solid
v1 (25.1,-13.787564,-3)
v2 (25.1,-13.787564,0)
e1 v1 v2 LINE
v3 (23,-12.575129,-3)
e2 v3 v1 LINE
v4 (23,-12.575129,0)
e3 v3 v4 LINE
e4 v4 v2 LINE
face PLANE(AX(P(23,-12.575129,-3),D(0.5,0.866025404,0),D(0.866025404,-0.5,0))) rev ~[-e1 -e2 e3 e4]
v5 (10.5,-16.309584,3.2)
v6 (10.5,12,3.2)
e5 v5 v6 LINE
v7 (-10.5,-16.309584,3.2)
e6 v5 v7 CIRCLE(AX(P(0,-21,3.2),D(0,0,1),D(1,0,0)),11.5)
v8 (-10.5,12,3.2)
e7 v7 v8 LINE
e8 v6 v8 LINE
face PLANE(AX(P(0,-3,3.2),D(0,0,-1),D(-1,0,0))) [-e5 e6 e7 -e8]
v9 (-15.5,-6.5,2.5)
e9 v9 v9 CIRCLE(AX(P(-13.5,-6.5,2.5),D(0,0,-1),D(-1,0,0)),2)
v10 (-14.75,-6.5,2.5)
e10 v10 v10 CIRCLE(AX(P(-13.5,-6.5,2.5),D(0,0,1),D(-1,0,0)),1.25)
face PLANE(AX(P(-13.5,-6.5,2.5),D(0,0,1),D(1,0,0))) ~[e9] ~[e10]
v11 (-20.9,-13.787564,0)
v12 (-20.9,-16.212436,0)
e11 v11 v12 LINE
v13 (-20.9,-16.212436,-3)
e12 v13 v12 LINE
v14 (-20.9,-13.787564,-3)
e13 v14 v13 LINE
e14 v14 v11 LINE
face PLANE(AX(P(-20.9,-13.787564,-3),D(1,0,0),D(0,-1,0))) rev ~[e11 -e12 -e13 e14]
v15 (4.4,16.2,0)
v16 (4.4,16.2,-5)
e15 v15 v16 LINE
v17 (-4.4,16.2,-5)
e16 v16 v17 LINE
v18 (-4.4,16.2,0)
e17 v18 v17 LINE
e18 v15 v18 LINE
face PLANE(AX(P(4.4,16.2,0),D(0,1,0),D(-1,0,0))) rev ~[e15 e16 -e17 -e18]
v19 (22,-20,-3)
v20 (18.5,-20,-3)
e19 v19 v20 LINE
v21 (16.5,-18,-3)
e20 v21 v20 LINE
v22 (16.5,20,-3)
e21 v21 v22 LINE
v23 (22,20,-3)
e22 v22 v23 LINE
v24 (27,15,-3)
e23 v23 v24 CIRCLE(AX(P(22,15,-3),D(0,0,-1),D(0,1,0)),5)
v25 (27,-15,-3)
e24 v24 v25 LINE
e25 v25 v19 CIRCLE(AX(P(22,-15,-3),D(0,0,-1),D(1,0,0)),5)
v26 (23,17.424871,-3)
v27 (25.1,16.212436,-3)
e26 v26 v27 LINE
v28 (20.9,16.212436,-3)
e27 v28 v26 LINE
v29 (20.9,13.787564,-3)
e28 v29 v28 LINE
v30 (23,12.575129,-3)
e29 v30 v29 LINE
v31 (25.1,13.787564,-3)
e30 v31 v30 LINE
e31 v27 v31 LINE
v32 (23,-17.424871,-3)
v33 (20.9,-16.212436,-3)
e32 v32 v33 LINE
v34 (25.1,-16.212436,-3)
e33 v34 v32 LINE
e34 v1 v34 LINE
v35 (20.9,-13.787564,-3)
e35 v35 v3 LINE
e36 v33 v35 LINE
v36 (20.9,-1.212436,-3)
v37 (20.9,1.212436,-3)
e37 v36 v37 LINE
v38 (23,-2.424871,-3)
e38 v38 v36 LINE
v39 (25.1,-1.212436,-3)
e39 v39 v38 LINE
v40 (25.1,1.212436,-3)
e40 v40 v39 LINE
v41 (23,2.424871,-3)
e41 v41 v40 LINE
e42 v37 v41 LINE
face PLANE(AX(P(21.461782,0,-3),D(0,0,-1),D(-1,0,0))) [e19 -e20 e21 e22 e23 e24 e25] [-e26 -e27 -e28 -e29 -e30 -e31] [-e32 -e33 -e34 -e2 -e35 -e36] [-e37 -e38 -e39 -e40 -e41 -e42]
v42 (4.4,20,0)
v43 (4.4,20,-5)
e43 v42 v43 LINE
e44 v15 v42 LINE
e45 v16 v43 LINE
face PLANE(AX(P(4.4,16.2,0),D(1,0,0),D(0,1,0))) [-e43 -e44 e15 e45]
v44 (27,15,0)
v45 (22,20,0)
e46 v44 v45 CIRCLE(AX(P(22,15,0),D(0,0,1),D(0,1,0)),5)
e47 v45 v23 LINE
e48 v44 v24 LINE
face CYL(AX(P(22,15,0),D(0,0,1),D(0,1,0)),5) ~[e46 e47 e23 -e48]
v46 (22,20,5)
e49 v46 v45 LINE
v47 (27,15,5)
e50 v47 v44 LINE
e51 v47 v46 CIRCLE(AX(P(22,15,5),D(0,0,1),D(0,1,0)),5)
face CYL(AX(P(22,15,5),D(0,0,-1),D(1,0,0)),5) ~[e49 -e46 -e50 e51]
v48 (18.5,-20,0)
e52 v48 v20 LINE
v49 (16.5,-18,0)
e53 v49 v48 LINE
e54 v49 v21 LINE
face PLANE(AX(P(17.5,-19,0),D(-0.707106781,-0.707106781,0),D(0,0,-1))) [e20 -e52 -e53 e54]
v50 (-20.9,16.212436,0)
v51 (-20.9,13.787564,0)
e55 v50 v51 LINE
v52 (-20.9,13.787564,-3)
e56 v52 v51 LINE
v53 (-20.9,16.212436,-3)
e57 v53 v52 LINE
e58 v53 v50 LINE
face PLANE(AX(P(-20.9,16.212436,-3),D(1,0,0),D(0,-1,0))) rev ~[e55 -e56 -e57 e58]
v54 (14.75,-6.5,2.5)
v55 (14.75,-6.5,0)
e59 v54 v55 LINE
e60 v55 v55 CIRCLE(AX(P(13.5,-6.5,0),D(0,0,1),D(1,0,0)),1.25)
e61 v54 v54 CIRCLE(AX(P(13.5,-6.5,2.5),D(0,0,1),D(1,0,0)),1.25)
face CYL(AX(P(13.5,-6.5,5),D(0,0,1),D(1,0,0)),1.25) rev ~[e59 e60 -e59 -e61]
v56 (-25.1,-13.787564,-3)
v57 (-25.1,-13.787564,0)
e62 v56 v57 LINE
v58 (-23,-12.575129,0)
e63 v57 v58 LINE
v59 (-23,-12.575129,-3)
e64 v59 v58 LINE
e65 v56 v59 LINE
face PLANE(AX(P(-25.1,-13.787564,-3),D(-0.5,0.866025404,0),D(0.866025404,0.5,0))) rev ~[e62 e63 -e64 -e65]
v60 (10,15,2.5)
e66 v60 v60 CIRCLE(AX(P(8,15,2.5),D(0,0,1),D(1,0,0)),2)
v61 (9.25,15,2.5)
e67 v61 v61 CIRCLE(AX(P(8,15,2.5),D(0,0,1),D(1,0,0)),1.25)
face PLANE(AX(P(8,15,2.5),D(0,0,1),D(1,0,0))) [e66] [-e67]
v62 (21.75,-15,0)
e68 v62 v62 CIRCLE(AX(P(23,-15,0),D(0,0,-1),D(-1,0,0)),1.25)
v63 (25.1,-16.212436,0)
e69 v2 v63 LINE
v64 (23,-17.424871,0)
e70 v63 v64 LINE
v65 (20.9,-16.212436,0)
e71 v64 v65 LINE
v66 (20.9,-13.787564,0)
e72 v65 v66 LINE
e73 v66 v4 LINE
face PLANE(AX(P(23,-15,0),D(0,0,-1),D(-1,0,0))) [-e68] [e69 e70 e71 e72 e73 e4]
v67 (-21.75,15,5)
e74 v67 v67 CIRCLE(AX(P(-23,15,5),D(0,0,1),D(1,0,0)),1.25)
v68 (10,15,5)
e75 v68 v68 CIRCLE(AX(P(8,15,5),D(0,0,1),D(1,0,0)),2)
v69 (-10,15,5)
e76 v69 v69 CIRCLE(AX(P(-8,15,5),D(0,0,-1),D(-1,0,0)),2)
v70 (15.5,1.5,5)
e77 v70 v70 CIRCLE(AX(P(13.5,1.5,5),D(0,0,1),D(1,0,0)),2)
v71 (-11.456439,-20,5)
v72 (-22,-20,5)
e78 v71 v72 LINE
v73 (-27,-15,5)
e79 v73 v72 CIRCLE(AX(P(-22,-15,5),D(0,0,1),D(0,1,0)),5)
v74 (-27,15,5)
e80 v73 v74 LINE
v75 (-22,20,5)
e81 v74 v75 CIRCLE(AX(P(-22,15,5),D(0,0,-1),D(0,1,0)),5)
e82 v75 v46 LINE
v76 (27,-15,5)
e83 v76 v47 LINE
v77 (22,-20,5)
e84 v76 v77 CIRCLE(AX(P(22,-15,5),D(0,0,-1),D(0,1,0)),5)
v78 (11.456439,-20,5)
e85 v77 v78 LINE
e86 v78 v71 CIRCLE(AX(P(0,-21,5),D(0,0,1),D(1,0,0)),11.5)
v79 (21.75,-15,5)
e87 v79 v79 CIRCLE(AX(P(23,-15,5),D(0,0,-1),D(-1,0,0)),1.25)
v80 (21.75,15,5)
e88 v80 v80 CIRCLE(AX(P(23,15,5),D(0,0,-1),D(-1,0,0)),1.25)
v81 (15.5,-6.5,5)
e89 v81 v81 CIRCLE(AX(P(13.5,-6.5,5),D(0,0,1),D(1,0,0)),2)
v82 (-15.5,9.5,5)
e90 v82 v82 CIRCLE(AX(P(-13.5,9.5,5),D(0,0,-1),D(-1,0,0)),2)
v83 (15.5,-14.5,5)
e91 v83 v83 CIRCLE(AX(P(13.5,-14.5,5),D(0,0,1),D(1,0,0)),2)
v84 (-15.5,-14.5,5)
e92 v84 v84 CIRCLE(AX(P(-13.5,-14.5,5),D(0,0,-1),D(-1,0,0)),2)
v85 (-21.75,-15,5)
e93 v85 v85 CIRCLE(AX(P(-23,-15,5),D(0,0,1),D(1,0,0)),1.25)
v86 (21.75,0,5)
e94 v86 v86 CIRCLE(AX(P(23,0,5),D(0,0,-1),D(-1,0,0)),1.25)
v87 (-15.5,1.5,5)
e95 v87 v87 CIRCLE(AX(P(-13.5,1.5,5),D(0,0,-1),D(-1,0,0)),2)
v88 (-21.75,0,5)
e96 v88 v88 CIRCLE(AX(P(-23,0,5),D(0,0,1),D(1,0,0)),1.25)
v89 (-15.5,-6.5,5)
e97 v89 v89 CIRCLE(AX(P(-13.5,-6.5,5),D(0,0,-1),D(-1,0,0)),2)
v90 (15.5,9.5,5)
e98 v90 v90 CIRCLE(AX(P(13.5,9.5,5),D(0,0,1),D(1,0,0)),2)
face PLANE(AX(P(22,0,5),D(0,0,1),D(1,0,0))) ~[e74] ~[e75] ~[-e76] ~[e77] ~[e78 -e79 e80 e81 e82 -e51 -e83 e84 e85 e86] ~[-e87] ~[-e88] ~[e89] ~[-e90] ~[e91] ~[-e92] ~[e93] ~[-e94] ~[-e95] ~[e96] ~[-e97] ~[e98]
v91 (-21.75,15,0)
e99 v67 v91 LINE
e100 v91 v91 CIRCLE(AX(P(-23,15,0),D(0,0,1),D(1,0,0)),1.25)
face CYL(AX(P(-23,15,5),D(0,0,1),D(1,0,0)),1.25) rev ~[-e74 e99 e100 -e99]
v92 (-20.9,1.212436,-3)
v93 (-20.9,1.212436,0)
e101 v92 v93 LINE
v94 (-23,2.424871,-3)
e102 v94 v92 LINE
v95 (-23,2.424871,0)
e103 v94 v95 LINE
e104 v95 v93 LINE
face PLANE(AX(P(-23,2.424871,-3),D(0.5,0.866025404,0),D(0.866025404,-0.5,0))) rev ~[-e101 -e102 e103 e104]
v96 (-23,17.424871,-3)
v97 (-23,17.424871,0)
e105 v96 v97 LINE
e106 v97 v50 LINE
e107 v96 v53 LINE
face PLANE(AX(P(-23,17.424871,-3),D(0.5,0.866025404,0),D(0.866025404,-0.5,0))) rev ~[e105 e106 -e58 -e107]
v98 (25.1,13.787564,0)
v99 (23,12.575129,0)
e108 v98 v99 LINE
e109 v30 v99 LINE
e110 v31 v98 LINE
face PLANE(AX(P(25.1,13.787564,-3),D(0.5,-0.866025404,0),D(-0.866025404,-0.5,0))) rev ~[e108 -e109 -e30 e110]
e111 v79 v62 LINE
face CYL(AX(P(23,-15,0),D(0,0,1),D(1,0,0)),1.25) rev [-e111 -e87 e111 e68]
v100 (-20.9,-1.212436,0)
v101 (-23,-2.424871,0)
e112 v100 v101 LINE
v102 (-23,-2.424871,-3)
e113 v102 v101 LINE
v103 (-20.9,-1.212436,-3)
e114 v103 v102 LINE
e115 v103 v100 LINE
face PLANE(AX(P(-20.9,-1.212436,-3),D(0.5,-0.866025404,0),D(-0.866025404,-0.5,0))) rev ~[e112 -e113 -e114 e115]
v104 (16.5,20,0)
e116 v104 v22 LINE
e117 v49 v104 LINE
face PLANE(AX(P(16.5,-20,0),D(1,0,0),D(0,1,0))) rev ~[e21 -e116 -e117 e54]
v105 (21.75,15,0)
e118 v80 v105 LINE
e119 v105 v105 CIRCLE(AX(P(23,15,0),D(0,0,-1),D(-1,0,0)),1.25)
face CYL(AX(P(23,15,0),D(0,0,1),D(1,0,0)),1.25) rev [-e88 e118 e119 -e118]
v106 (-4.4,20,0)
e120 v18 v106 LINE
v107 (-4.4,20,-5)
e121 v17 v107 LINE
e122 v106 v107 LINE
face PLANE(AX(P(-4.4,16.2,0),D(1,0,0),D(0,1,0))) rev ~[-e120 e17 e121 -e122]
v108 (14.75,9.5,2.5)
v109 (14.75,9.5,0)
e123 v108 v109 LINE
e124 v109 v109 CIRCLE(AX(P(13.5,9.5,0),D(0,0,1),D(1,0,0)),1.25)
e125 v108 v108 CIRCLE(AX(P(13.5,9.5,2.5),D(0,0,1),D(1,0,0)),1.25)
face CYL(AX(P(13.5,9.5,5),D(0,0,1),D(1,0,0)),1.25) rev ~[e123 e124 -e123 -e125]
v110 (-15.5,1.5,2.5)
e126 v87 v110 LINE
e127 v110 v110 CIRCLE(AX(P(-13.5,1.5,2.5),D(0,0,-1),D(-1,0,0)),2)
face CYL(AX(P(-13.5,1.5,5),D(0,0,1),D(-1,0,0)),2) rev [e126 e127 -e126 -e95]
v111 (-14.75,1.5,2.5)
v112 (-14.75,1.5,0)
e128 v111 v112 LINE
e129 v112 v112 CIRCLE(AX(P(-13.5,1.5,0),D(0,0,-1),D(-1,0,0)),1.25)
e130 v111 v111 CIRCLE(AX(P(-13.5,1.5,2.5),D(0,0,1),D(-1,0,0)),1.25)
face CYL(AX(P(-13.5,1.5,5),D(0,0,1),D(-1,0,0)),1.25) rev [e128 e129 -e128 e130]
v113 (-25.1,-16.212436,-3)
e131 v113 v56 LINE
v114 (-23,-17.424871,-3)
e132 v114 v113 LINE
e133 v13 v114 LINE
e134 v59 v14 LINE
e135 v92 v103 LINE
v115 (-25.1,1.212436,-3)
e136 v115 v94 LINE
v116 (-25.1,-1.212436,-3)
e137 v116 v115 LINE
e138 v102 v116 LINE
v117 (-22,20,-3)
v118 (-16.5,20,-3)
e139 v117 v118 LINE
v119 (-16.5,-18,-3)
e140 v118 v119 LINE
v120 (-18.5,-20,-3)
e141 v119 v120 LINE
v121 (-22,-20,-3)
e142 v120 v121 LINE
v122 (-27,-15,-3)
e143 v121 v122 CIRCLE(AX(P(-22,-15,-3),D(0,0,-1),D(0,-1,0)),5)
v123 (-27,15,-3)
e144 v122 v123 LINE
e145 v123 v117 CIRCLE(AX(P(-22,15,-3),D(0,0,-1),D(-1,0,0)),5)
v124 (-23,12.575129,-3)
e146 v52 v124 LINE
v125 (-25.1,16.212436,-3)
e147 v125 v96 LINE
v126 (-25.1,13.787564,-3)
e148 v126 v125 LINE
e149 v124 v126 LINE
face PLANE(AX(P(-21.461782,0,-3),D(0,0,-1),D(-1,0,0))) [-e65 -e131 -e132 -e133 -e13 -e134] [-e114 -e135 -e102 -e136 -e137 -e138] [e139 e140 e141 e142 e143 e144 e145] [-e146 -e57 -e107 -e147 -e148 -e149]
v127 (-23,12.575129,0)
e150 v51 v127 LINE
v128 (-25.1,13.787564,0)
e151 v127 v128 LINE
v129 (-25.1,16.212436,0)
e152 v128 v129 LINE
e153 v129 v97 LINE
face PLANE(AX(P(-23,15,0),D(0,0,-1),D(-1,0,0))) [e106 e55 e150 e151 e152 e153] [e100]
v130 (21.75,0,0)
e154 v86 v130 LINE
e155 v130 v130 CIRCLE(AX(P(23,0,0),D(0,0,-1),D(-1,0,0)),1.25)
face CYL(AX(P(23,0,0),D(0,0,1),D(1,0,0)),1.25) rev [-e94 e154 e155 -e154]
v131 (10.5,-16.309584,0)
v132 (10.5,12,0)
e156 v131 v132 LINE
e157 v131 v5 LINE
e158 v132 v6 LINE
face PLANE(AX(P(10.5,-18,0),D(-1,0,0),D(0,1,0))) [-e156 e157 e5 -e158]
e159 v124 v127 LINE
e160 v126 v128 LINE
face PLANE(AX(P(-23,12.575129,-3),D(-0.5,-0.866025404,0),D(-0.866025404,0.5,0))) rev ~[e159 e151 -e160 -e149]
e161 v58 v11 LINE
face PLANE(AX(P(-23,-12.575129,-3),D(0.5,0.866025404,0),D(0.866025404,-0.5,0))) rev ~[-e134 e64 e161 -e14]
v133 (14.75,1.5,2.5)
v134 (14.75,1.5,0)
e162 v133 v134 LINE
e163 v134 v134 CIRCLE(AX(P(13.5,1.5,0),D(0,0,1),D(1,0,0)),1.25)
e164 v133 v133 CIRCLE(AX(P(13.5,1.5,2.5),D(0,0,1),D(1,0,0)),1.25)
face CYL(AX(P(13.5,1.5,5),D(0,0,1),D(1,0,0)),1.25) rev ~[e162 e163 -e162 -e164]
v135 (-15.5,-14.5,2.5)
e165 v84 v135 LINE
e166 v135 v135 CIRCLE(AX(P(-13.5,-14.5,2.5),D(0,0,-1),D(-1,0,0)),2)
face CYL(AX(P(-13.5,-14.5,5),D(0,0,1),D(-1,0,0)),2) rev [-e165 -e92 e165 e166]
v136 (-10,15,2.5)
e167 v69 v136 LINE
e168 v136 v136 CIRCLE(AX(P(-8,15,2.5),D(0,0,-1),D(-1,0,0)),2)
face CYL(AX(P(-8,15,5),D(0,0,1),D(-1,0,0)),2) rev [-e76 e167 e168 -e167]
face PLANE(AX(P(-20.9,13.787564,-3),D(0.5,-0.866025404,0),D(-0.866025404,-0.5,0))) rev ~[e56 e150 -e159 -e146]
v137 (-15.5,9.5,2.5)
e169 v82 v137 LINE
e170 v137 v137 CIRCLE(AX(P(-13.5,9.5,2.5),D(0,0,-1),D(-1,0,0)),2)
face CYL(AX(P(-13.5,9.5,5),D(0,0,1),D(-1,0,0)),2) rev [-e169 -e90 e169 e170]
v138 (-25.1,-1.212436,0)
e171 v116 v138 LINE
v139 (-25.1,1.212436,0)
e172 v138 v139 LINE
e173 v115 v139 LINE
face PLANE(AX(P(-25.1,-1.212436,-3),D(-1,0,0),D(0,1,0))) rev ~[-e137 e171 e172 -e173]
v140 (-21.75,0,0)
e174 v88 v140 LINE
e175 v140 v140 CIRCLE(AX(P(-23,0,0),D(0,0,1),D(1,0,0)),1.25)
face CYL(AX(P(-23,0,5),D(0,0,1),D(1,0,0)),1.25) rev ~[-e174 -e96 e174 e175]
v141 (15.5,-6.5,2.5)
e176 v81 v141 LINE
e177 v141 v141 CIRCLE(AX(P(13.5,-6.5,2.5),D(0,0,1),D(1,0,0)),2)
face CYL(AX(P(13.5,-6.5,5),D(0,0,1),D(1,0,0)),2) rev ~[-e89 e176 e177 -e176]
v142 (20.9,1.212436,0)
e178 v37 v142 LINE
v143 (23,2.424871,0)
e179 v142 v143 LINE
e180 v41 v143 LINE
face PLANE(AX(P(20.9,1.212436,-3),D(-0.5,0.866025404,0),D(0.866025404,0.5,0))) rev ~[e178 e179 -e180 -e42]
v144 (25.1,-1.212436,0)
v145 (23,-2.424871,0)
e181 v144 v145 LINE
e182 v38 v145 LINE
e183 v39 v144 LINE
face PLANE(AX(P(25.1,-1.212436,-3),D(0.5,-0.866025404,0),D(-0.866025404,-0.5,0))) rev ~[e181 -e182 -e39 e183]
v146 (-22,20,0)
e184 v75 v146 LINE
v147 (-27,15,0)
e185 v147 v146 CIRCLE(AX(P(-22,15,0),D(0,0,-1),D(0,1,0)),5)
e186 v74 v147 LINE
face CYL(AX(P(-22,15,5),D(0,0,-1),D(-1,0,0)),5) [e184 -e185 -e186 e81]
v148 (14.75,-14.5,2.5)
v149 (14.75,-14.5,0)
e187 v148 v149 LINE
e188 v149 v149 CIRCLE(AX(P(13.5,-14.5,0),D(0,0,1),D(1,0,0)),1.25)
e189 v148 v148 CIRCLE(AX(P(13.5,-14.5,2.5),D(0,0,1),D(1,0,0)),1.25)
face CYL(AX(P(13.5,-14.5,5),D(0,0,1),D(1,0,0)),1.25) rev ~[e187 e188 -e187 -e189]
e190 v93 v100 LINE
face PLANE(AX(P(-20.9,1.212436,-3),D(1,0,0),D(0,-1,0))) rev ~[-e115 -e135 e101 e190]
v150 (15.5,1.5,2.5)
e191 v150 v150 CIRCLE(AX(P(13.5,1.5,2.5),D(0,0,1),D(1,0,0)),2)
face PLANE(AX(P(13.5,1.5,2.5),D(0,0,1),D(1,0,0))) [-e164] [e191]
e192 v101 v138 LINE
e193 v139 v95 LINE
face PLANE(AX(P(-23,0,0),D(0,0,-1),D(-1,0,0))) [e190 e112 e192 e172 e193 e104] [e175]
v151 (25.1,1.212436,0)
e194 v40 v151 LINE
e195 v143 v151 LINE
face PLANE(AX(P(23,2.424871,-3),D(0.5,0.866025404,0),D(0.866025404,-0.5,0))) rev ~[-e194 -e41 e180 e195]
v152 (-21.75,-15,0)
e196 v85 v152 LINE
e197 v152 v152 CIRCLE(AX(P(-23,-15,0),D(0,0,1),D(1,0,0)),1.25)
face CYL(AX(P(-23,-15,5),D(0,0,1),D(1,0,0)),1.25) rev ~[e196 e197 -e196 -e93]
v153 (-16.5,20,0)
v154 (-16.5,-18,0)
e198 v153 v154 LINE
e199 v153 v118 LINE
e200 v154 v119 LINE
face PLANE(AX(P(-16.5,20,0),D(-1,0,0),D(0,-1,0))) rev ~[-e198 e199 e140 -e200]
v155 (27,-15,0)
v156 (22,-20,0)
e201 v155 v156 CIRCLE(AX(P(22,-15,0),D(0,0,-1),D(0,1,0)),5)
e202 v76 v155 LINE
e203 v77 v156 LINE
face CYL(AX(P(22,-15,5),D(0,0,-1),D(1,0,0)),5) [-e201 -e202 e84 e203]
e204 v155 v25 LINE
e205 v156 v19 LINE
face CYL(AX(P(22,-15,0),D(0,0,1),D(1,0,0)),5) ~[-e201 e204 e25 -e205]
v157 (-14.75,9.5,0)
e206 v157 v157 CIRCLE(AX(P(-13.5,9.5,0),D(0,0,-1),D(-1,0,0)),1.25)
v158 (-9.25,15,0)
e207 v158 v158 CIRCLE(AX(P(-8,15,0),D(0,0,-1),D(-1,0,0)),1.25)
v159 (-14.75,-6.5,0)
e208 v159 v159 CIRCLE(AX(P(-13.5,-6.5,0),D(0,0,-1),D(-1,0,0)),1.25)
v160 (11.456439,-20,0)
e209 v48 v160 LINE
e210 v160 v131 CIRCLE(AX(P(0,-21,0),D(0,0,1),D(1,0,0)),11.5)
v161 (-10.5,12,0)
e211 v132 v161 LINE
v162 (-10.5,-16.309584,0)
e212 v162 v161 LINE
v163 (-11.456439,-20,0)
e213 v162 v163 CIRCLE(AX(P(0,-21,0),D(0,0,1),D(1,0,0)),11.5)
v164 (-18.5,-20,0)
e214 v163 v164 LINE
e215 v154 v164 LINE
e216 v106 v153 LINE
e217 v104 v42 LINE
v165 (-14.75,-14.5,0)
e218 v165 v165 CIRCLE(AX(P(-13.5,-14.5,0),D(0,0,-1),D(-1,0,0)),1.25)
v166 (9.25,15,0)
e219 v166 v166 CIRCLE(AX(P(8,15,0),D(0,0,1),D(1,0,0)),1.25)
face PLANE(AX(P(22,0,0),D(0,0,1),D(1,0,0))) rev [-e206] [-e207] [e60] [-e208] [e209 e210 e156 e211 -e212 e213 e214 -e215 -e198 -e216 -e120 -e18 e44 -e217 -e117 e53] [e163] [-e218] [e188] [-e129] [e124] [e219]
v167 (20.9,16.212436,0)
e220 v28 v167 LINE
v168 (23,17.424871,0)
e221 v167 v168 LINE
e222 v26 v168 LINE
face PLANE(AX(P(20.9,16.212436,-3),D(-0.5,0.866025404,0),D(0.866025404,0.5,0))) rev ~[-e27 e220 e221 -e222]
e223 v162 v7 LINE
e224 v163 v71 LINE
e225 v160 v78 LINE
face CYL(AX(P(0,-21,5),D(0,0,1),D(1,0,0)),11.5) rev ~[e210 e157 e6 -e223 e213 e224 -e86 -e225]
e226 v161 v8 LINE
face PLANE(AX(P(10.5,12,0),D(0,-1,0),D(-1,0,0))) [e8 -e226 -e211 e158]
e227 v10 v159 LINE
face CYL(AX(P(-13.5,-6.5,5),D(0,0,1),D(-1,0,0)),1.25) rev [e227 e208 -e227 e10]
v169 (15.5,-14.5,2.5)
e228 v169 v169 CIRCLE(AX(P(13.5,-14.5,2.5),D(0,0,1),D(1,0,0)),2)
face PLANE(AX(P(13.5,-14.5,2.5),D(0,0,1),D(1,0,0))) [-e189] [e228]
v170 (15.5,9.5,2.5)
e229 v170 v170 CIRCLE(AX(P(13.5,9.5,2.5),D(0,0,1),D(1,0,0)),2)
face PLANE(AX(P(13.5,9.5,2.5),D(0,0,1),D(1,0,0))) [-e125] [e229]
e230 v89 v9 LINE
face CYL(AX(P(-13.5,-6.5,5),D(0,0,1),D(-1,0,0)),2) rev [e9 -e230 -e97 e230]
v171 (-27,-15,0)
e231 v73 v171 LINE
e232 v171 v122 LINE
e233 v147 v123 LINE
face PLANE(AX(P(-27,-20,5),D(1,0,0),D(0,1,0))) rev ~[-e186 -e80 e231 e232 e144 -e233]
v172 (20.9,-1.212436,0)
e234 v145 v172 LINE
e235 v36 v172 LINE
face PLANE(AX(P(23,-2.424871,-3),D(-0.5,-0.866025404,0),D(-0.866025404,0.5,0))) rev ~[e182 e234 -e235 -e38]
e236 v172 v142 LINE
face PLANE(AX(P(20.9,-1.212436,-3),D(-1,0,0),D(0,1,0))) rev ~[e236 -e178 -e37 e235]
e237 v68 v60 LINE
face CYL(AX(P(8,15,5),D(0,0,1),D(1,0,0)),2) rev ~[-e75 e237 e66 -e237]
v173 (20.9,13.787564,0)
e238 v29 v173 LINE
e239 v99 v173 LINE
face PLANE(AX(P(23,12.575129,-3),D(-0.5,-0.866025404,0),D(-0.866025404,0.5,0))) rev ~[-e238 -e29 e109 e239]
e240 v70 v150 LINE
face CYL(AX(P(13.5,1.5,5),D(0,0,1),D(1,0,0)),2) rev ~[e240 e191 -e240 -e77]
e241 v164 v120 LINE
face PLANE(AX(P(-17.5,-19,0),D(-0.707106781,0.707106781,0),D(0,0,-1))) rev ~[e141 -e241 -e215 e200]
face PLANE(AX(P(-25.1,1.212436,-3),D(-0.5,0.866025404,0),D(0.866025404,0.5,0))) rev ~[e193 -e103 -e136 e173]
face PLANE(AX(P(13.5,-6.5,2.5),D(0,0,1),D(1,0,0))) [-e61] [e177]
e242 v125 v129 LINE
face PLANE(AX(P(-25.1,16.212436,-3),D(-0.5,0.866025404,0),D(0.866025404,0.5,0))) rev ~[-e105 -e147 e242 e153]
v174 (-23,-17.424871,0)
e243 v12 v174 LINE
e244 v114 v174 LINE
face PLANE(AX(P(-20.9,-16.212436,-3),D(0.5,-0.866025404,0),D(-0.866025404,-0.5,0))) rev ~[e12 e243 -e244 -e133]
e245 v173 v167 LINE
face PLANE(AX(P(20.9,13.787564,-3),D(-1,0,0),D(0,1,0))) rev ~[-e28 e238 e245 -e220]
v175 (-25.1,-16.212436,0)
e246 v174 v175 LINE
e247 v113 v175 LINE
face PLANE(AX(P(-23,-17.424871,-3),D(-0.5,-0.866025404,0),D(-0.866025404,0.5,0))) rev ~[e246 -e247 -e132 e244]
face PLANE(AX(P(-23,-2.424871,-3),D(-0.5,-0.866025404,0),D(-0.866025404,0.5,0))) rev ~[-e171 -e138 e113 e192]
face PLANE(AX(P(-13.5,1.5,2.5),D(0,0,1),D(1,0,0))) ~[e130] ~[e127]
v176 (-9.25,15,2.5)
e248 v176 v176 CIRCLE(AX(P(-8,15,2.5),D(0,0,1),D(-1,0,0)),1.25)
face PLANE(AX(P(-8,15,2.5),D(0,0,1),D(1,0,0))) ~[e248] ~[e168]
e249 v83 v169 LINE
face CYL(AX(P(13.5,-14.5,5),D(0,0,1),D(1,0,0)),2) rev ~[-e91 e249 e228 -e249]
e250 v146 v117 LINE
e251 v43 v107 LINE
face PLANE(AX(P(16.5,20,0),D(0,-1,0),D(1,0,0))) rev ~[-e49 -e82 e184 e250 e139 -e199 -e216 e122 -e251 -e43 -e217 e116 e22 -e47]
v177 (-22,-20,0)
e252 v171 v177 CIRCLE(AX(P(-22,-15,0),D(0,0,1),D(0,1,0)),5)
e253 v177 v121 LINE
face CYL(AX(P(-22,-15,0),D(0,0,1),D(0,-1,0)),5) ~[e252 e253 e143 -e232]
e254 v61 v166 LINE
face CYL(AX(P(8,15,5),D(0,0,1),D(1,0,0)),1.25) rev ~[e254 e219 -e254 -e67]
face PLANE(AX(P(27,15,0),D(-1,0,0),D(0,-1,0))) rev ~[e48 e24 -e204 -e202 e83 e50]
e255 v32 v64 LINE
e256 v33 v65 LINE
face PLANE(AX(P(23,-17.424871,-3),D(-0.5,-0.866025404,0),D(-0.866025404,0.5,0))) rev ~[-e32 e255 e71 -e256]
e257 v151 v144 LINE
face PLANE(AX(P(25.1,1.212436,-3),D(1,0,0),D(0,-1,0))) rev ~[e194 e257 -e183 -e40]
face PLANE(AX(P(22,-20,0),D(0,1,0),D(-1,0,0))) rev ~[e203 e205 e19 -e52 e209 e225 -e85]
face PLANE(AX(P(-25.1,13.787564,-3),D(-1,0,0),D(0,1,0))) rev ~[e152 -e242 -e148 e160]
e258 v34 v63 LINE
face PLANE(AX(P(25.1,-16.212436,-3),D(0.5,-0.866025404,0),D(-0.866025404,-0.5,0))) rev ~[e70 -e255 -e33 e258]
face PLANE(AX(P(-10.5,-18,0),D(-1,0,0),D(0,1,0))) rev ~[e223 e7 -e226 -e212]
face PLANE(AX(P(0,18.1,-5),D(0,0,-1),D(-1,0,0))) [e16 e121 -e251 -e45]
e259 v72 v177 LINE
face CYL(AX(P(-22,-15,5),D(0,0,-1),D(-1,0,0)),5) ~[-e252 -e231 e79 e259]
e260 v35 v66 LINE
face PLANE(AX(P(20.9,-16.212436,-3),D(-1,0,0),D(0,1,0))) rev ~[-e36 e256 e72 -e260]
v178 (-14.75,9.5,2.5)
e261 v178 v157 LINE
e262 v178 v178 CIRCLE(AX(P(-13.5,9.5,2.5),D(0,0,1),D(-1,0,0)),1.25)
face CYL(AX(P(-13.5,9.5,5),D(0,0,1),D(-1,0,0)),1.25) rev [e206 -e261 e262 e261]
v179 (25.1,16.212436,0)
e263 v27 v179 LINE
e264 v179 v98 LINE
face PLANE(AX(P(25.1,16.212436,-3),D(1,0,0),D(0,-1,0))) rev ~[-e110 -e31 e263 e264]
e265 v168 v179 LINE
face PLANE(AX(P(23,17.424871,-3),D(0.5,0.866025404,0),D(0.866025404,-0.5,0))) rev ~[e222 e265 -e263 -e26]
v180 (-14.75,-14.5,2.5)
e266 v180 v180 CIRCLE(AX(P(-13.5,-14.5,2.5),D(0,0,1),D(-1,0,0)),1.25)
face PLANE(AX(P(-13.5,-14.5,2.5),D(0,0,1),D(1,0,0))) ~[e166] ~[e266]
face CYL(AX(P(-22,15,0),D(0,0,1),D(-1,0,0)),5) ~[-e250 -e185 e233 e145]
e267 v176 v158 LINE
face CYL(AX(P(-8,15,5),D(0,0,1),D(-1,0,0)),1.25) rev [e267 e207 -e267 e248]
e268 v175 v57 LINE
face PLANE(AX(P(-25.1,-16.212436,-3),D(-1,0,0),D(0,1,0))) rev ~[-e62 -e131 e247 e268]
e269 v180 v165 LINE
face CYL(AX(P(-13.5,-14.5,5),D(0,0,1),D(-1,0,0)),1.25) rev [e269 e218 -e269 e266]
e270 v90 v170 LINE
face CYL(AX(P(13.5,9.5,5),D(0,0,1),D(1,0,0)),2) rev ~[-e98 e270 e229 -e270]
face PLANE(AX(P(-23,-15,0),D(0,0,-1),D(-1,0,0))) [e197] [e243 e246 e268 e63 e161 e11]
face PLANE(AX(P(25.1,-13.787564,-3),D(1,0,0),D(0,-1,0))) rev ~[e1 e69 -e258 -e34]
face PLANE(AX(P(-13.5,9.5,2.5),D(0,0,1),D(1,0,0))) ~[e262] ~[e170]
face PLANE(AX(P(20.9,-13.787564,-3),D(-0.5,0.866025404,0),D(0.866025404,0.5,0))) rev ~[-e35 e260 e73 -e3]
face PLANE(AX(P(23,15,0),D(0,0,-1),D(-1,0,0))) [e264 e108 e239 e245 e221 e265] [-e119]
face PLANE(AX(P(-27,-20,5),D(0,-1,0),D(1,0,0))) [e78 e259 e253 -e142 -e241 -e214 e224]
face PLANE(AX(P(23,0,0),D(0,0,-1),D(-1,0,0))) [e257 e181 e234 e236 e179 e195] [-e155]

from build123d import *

# Parameters (mm, degrees)
SZKIC1_W                    = 34
SZKIC1_H                    = 40
DODANIE_WYCI_GNI_CIE1_DEPTH = 5
SZKIC2_R                    = 1.25
WYTNIJ_WYCI_GNI_CIE1_DEPTH  = 5
SZKIC3_R                    = 11.5
WYTNIJ_WYCI_GNI_CIE2_DEPTH  = 5
SZKIC4_R                    = 2
WYTNIJ_WYCI_GNI_CIE3_DEPTH  = 2.5
SZKIC5_W                    = 21
SZKIC5_H                    = 30
WYTNIJ_WYCI_GNI_CIE4_DEPTH  = 3.2
SZKIC6_W                    = 10
SZKIC6_H                    = 40
SZKIC6_R                    = 1.25
DODANIE_WYCI_GNI_CIE2_DEPTH = 5
ZAOKR_GLENIE1_R             = 5
ZAOKR_GLENIE1_OF_LUSTRO2_R  = 5
SZKIC7_W                    = 8.8
SZKIC7_H                    = 3.8
DODANIE_WYCI_GNI_CIE3_DEPTH = 5
SZKIC8_R                    = 1.25
DODANIE_WYCI_GNI_CIE4_DEPTH = 3
WYTNIJ_WYCI_GNI_CIE5_DEPTH  = 3
SZYK_LINIOWY1_COUNT         = 2
SZYK_LINIOWY1_PITCH         = 46
SZYK_LINIOWY1_COUNT_DIR2    = 3
SZYK_LINIOWY1_PITCH_DIR2    = 15
SFAZOWANIE1_SIZE            = 2


with BuildPart() as part:
    # Szkic1 → Dodanie-wyciągnięcie1 (new body)
    with BuildSketch(Plane.XY):
        Rectangle(SZKIC1_W, SZKIC1_H)
    extrude(amount=DODANIE_WYCI_GNI_CIE1_DEPTH)

    # Szkic2 → Wytnij-wyciągnięcie1 (cut)
    with BuildSketch(Plane.XY.offset(5)):
        with Locations((8, 15)):
            Circle(SZKIC2_R)
        with Locations((13.5, 9.5)):
            Circle(SZKIC2_R)
        with Locations((13.5, 1.5)):
            Circle(SZKIC2_R)
        with Locations((13.5, -6.5)):
            Circle(SZKIC2_R)
        with Locations((13.5, -14.5)):
            Circle(SZKIC2_R)
    wytnij_wyci_gni_cie1 = extrude(amount=-WYTNIJ_WYCI_GNI_CIE1_DEPTH, mode=Mode.SUBTRACT)

    # Szkic3 → Wytnij-wyciągnięcie2 (cut)
    with BuildSketch(Plane.XY.offset(5)):
        with Locations((0, -21)):
            Circle(SZKIC3_R)
    extrude(amount=-WYTNIJ_WYCI_GNI_CIE2_DEPTH, mode=Mode.SUBTRACT)

    # Szkic4 → Wytnij-wyciągnięcie3 (cut)
    with BuildSketch(Plane.XY.offset(5)):
        with Locations((8, 15)):
            Circle(SZKIC4_R)
        with Locations((13.5, 9.5)):
            Circle(SZKIC4_R)
        with Locations((13.5, 1.5)):
            Circle(SZKIC4_R)
        with Locations((13.5, -6.5)):
            Circle(SZKIC4_R)
        with Locations((13.5, -14.5)):
            Circle(SZKIC4_R)
    wytnij_wyci_gni_cie3 = extrude(amount=-WYTNIJ_WYCI_GNI_CIE3_DEPTH, mode=Mode.SUBTRACT)

    # Lustro1: Wytnij-wyciągnięcie1, Wytnij-wyciągnięcie3 across plane
    add(wytnij_wyci_gni_cie1.mirror(Plane(origin=(0, 0, 0), x_dir=(0, 0, 1), z_dir=(1, 0, 0))), mode=Mode.SUBTRACT)
    add(wytnij_wyci_gni_cie3.mirror(Plane(origin=(0, 0, 0), x_dir=(0, 0, 1), z_dir=(1, 0, 0))), mode=Mode.SUBTRACT)

    # Szkic5 → Wytnij-wyciągnięcie4 (cut)
    with BuildSketch(Plane(origin=(0, 0, 0), x_dir=(-1, 0, 0), z_dir=(0, 0, -1))):
        with Locations((0, -3)):
            Rectangle(SZKIC5_W, SZKIC5_H)
    extrude(amount=-WYTNIJ_WYCI_GNI_CIE4_DEPTH, mode=Mode.SUBTRACT)

    # Szkic6 → Dodanie-wyciągnięcie2 (add)
    with BuildSketch(Plane.XY.offset(5)):
        with Locations((-22, 0)):
            Rectangle(SZKIC6_W, SZKIC6_H)
        with Locations((-23, -15)):
            Circle(SZKIC6_R, mode=Mode.SUBTRACT)
        with Locations((-23, 0)):
            Circle(SZKIC6_R, mode=Mode.SUBTRACT)
        with Locations((-23, 15)):
            Circle(SZKIC6_R, mode=Mode.SUBTRACT)
    dodanie_wyci_gni_cie2 = extrude(amount=-DODANIE_WYCI_GNI_CIE2_DEPTH)

    # Zaokrąglenie1
    zaokr_glenie1_edges = [part.edges().sort_by_distance(p)[0] for p in [
        (-27, -20, 2.5),
        (-27, 20, 2.5),
    ]]
    fillet(zaokr_glenie1_edges, radius=ZAOKR_GLENIE1_R)

    # Lustro2: Dodanie-wyciągnięcie2 across plane
    add(dodanie_wyci_gni_cie2.mirror(Plane(origin=(0, 0, 0), x_dir=(0, 0, 1), z_dir=(1, 0, 0))))

    # Zaokrąglenie1 of Lustro2
    zaokr_glenie1_of_lustro2_edges = [part.edges().sort_by_distance(p)[0] for p in [
        (27, -20, 2.5),
        (27, 20, 2.5),
    ]]
    fillet(zaokr_glenie1_of_lustro2_edges, radius=ZAOKR_GLENIE1_OF_LUSTRO2_R)

    # Szkic7 → Dodanie-wyciągnięcie3 (add)
    with BuildSketch(Plane(origin=(0, 0, 0), x_dir=(-1, 0, 0), z_dir=(0, 0, -1))):
        with Locations((0, 18.1)):
            Rectangle(SZKIC7_W, SZKIC7_H)
    extrude(amount=DODANIE_WYCI_GNI_CIE3_DEPTH)

    # Szkic8 → Dodanie-wyciągnięcie4 (add)
    # profile 1 of 2: a face of its own
    with BuildSketch(Plane(origin=(0, 0, 0), x_dir=(-1, 0, 0), z_dir=(0, 0, -1))):
        with BuildLine():
            Line((-16.5, -20), (-16.5, 20))
            Line((-16.5, 20), (-22, 20))
            ThreePointArc((-22, 20), (-25.535533906, 18.535533906), (-27, 15))
            Line((-27, 15), (-27, -15))
            ThreePointArc((-27, -15), (-25.535533906, -18.535533906), (-22, -20))
            Line((-22, -20), (-16.5, -20))
        make_face()
        with Locations(Location((-23, -15, 0), (0, 0, 180))):
            Circle(SZKIC8_R, mode=Mode.SUBTRACT)
        with Locations(Location((-23, 0, 0), (0, 0, 180))):
            Circle(SZKIC8_R, mode=Mode.SUBTRACT)
        with Locations(Location((-23, 15, 0), (0, 0, 180))):
            Circle(SZKIC8_R, mode=Mode.SUBTRACT)
    # profile 2 of 2: a face of its own
    with BuildSketch(Plane(origin=(0, 0, 0), x_dir=(-1, 0, 0), z_dir=(0, 0, -1))):
        with BuildLine():
            Line((22, 20), (16.5, 20))
            Line((16.5, 20), (16.5, -20))
            Line((16.5, -20), (22, -20))
            ThreePointArc((22, -20), (25.535533906, -18.535533906), (27, -15))
            Line((27, -15), (27, 15))
            ThreePointArc((27, 15), (25.535533906, 18.535533906), (22, 20))
        make_face()
        with Locations(Location((23, -15, 0), (0, 0, 180))):
            Circle(SZKIC8_R, mode=Mode.SUBTRACT)
        with Locations(Location((23, 0, 0), (0, 0, 180))):
            Circle(SZKIC8_R, mode=Mode.SUBTRACT)
        with Locations(Location((23, 15, 0), (0, 0, 180))):
            Circle(SZKIC8_R, mode=Mode.SUBTRACT)
    extrude(amount=DODANIE_WYCI_GNI_CIE4_DEPTH)

    # Szkic9 → Wytnij-wyciągnięcie5 (cut)
    with BuildSketch(Plane(origin=(0, 0, -3), x_dir=(-1, 0, 0), z_dir=(0, 0, -1))):
        Polygon((-23, 12.575128869), (-20.9, 13.787564435), (-20.9, 16.212435565), (-23, 17.424871131), (-25.1, 16.212435565), (-25.1, 13.787564435), align=None)
    wytnij_wyci_gni_cie5 = extrude(amount=-WYTNIJ_WYCI_GNI_CIE5_DEPTH, mode=Mode.SUBTRACT)

    # Szyk liniowy1: Wytnij-wyci_gni_cie5 2 × 3
    with Locations(*[(-i * SZYK_LINIOWY1_PITCH, -j * SZYK_LINIOWY1_PITCH_DIR2, 0) for i in range(SZYK_LINIOWY1_COUNT) for j in range(SZYK_LINIOWY1_COUNT_DIR2) if (i, j) != (0, 0)]):
        add(wytnij_wyci_gni_cie5, mode=Mode.SUBTRACT)

    # Sfazowanie1
    sfazowanie1_edges = [part.edges().sort_by_distance(p)[0] for p in [
        (16.5, -20, -1.5),
        (-16.5, -20, -1.5),
    ]]
    chamfer(sfazowanie1_edges, length=SFAZOWANIE1_SIZE)


solid = part.part
